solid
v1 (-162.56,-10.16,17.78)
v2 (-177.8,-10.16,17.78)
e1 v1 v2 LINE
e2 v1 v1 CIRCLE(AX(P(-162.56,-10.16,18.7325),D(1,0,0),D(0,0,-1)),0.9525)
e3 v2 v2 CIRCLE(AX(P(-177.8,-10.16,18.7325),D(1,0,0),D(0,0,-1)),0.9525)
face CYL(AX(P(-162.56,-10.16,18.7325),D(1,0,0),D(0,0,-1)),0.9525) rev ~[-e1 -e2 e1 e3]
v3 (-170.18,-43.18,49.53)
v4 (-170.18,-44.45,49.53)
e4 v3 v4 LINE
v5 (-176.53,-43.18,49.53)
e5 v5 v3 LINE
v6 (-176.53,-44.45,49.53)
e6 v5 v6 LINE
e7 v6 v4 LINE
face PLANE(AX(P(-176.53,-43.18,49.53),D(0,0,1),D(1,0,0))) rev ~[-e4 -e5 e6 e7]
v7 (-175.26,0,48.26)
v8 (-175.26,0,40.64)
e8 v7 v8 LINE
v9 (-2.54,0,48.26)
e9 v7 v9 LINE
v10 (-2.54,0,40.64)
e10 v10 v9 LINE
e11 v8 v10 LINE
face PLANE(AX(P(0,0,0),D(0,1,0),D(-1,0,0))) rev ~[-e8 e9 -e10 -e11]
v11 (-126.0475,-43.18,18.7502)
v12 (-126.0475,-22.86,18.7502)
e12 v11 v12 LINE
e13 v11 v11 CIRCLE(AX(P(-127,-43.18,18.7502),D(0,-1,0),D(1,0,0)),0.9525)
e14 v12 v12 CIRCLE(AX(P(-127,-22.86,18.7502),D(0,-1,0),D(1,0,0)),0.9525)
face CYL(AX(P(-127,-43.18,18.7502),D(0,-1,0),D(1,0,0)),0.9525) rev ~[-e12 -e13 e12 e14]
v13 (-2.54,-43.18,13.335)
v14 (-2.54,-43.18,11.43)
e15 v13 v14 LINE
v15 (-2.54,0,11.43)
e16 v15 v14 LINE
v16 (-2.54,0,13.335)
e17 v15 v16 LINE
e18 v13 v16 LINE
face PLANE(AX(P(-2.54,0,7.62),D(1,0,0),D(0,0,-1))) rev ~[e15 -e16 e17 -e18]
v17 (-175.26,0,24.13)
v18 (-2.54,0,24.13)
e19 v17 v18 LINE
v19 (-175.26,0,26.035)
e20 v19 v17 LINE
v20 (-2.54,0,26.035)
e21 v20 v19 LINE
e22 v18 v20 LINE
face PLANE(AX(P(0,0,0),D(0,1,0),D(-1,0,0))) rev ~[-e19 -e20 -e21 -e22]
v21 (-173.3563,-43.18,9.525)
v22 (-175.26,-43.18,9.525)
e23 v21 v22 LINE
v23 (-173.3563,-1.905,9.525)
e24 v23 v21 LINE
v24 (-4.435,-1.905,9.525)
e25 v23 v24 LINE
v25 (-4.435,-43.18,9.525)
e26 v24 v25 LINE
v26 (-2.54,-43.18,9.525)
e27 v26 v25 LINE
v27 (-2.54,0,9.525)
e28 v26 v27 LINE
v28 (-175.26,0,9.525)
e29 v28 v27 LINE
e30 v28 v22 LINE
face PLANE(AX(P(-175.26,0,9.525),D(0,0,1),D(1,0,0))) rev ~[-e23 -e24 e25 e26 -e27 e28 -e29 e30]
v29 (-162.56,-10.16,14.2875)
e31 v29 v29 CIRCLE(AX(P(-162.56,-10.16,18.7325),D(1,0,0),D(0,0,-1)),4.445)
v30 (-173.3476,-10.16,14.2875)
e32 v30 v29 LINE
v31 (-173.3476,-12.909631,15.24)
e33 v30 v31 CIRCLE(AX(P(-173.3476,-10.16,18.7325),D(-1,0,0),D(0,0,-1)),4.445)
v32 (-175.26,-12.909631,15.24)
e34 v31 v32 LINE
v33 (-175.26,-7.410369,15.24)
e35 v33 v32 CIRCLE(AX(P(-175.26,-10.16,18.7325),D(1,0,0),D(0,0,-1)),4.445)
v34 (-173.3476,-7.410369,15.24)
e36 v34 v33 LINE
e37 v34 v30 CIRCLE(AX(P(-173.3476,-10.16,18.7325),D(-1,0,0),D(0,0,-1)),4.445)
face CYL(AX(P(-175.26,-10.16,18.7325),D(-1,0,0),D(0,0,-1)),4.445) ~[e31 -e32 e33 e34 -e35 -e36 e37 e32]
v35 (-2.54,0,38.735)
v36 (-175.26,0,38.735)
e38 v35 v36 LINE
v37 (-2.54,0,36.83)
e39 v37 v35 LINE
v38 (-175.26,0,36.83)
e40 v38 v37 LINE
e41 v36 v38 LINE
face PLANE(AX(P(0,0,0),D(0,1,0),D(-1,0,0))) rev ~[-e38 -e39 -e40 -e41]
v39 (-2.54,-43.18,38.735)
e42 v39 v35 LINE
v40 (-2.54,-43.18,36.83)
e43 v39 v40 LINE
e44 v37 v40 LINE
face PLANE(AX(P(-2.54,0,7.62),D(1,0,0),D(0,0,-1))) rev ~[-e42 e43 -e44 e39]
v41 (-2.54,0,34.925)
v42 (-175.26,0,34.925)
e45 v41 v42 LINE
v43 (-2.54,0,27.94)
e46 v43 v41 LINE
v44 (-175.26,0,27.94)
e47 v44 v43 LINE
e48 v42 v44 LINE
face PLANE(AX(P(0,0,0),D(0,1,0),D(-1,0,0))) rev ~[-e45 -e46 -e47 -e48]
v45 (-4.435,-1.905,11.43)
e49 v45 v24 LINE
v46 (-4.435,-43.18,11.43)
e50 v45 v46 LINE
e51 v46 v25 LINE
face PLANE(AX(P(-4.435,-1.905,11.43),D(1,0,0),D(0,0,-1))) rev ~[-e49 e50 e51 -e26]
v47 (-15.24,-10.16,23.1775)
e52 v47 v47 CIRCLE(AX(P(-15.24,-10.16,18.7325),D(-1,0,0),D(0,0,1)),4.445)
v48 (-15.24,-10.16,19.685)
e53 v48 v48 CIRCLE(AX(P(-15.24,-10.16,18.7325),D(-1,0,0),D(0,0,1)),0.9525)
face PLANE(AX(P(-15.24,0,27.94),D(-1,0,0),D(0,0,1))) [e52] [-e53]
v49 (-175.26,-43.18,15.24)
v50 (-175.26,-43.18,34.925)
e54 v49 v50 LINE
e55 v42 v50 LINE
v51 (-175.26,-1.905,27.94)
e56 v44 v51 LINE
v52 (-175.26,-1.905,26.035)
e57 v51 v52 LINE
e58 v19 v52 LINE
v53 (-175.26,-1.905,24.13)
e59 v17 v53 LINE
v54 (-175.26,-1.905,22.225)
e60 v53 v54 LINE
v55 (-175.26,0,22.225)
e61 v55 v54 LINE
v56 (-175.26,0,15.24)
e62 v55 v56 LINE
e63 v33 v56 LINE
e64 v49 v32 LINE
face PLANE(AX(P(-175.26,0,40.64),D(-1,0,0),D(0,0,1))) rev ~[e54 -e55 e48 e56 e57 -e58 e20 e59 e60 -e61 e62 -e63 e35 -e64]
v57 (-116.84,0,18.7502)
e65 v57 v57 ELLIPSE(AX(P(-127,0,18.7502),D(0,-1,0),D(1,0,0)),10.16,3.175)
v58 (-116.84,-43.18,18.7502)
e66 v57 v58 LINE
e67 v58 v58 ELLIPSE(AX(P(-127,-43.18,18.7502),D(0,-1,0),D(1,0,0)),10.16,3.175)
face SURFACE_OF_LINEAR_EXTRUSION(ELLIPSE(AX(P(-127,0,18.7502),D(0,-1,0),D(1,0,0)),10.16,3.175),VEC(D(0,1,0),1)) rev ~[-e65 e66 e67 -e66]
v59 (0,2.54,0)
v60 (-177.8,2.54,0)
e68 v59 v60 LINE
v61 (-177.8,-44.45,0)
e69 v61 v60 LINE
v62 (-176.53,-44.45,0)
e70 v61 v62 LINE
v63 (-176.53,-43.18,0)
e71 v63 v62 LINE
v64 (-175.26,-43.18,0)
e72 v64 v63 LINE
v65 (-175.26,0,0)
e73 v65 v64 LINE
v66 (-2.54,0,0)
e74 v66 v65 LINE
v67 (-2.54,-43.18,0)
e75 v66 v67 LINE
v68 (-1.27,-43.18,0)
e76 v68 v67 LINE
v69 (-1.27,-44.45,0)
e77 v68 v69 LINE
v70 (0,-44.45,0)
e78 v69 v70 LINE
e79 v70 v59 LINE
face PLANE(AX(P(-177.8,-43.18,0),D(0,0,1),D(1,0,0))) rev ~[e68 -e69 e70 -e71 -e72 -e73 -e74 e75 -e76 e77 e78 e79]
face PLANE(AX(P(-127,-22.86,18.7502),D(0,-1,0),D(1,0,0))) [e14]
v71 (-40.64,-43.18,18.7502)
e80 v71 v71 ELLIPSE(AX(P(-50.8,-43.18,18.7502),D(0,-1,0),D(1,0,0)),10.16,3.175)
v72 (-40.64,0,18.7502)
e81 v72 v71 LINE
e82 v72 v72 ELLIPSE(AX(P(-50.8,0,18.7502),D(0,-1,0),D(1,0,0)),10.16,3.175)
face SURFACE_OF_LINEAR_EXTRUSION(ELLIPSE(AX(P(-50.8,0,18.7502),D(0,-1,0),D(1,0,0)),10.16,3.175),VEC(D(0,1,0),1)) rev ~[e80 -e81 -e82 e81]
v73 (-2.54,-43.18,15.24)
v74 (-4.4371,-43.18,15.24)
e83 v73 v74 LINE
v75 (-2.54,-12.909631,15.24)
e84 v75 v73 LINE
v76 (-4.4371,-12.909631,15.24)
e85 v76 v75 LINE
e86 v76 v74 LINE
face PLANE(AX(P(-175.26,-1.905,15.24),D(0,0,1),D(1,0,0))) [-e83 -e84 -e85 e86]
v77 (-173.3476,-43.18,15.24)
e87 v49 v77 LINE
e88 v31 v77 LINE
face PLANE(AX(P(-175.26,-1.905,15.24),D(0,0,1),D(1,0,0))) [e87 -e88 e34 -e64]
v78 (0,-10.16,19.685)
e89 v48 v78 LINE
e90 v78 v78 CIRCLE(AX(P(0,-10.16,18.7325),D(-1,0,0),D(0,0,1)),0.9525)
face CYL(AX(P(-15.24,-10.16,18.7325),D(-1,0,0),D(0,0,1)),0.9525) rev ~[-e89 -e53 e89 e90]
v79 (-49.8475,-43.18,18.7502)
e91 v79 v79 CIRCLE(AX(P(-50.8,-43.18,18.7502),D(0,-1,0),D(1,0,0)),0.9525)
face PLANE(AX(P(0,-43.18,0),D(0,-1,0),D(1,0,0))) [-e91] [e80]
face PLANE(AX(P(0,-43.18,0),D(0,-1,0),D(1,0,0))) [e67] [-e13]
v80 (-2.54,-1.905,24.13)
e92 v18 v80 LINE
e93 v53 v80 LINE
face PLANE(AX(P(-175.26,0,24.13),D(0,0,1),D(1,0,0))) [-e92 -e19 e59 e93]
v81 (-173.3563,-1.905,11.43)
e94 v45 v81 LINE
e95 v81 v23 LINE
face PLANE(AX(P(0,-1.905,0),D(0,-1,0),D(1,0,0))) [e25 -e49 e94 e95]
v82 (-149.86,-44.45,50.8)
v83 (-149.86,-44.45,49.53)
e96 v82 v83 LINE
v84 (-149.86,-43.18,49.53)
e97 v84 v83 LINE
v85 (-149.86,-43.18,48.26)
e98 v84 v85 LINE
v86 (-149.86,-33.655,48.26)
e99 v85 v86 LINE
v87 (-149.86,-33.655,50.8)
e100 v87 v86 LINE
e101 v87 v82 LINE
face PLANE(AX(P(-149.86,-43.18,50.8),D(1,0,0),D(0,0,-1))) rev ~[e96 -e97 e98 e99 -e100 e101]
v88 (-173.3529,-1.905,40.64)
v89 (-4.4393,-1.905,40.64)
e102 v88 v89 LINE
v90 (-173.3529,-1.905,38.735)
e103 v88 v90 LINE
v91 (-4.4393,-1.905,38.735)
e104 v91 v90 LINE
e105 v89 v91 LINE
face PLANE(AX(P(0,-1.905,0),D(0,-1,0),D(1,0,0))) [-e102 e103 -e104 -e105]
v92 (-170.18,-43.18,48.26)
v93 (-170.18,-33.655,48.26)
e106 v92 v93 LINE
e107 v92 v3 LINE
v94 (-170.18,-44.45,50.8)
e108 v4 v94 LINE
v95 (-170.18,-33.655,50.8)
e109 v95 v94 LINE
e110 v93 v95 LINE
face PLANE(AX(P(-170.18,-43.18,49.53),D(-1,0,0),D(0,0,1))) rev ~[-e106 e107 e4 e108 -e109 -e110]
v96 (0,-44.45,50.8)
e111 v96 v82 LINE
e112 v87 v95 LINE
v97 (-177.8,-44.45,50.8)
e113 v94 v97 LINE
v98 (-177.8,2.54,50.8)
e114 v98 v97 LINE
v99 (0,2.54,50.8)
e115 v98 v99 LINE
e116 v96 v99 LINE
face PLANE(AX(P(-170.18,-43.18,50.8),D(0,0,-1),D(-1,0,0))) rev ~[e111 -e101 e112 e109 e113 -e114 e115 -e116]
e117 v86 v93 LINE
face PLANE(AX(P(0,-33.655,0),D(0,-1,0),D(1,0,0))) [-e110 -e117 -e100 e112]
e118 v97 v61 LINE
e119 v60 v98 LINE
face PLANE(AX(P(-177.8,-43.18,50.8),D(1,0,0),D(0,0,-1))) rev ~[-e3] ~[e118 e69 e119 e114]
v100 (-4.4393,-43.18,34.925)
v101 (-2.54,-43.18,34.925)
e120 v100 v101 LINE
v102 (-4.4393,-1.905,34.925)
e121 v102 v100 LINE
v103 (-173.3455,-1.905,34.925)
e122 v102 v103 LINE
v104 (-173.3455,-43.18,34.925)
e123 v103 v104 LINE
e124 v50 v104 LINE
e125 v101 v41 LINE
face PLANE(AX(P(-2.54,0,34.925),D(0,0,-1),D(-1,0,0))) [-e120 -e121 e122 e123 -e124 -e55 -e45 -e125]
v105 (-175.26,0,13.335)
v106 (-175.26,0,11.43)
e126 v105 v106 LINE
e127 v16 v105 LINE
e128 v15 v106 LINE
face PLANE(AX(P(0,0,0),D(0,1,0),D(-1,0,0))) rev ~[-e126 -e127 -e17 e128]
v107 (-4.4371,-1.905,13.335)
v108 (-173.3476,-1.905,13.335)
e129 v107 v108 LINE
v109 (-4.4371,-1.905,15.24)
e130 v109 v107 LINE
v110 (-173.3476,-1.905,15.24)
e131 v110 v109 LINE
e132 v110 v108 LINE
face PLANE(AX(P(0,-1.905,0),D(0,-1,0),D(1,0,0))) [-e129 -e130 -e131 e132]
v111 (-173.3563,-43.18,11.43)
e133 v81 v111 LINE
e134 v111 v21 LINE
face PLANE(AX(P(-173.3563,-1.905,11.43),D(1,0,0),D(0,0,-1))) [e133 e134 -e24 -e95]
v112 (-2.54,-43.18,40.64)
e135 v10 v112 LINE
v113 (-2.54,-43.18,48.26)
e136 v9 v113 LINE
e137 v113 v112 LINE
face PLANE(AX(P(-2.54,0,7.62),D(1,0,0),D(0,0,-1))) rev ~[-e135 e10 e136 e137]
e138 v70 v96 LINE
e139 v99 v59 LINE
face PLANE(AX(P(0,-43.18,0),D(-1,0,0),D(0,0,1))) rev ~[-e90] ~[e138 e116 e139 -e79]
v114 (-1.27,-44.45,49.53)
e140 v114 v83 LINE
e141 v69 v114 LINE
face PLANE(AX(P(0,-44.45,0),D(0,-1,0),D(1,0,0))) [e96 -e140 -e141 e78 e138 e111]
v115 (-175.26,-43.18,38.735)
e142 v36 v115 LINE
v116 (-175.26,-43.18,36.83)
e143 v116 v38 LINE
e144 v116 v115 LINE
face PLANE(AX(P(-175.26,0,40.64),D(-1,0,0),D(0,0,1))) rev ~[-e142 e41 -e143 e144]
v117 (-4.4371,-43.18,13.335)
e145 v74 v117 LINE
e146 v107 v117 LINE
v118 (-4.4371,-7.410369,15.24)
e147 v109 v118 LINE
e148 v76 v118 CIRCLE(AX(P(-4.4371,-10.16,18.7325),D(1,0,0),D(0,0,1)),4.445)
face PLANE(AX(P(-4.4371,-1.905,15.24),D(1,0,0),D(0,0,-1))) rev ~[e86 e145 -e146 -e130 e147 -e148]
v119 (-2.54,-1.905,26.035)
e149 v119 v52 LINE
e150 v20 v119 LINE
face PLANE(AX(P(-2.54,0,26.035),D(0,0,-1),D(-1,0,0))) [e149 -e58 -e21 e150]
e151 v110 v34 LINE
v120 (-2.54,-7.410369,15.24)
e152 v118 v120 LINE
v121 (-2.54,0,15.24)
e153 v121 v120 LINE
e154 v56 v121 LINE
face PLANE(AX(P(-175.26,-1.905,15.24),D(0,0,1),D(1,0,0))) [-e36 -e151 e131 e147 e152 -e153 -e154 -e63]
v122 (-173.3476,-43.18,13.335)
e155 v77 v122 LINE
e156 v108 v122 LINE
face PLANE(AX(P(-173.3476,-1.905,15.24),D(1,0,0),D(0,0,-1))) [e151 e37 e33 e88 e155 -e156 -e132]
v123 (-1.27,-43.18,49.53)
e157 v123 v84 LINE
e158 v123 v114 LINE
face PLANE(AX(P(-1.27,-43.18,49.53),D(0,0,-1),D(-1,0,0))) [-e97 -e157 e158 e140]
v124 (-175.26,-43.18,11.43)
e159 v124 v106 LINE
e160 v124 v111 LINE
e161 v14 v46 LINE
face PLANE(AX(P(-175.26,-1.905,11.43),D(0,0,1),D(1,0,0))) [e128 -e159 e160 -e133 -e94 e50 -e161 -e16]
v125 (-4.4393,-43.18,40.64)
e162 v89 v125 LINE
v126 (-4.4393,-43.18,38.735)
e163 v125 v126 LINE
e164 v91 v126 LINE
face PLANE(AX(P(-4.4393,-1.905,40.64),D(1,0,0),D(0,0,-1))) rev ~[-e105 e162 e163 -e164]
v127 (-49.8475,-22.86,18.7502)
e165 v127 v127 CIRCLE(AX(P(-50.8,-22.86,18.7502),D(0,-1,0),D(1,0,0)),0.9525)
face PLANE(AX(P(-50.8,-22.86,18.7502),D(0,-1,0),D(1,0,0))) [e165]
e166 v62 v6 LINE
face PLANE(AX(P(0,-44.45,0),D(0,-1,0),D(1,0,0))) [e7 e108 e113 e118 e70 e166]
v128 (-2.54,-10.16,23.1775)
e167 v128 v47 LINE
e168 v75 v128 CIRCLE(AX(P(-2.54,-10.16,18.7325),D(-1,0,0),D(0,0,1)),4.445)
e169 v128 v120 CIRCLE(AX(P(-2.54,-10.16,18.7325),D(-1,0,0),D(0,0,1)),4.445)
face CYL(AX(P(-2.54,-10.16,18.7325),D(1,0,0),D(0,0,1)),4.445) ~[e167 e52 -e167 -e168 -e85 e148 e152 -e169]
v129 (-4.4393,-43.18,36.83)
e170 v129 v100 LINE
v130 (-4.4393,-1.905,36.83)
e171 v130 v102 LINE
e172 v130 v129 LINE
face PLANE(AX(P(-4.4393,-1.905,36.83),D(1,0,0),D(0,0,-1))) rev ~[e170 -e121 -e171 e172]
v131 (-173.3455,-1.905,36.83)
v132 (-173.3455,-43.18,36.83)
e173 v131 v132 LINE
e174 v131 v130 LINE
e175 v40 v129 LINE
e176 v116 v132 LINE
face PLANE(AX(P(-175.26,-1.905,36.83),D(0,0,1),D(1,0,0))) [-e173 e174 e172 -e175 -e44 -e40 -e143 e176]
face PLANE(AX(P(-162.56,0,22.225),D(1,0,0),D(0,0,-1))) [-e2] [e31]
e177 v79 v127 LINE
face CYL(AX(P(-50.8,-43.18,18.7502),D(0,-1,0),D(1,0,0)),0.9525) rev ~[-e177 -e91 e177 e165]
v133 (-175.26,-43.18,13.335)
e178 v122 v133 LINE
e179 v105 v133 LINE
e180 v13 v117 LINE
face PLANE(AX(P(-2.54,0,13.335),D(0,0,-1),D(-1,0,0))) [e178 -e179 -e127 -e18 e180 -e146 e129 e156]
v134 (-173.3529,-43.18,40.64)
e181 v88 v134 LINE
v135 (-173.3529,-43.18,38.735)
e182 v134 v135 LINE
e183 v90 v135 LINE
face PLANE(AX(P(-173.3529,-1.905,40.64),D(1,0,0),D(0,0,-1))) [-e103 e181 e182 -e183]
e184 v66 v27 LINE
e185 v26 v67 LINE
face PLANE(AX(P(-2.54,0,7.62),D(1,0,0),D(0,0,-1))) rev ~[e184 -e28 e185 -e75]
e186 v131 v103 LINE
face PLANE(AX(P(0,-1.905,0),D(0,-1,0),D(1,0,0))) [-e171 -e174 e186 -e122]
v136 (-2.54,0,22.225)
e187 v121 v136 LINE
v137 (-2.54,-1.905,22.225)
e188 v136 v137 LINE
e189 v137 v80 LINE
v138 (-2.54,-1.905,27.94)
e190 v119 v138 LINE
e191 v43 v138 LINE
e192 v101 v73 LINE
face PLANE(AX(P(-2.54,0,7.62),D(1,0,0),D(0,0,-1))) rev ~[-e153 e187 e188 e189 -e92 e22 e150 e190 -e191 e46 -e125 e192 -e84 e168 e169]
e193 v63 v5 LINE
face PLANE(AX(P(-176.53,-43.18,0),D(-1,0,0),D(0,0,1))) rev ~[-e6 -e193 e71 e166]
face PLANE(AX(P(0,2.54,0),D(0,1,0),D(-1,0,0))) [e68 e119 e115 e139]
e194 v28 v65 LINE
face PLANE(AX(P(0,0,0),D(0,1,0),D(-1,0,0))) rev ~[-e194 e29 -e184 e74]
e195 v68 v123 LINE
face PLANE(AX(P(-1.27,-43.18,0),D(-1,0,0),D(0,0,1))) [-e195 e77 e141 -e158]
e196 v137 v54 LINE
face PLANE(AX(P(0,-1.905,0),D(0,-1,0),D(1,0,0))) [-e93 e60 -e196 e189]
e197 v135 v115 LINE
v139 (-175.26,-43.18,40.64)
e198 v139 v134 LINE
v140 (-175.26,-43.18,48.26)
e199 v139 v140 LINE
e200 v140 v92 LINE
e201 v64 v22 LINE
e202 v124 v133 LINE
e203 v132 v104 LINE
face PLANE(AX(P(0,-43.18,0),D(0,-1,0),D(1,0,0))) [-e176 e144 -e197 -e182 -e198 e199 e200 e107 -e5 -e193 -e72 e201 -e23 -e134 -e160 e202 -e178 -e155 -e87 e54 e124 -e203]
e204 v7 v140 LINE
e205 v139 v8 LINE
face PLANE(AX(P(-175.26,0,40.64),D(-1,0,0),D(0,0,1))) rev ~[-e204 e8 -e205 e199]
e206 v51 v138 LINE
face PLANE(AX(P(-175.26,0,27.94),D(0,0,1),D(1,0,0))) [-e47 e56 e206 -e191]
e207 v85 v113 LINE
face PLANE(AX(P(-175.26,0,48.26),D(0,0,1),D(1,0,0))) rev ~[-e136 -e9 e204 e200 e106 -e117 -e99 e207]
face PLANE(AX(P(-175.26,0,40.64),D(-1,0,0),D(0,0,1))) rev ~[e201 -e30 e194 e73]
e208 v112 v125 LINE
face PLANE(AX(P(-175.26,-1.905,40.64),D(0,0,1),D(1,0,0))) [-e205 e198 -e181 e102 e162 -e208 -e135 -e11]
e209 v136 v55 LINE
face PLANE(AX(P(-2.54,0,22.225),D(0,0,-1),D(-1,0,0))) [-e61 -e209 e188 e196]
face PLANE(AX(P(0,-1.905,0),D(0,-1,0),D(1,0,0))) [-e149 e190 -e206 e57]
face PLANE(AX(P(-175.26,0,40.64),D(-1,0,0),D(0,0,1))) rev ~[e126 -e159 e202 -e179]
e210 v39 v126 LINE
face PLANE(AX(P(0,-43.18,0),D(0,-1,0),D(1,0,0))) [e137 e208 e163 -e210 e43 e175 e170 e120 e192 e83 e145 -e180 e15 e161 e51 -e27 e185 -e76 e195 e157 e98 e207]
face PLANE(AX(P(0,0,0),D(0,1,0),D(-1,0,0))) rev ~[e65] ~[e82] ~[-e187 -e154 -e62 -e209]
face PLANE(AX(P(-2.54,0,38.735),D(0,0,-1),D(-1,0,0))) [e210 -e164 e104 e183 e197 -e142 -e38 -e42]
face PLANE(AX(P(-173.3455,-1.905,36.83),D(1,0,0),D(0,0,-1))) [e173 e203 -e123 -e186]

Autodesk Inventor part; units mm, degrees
ref_plane "YZ Plane" through (0, 0, 0) normal (1, 0, 0) x (0, 1, 0)
ref_plane "XZ Plane" through (0, 0, 0) normal (0, 1, 0) x (-1, 0, 0)
ref_plane "XY Plane" through (0, 0, 0) normal (0, 0, 1) x (1, 0, 0)
sketch "Náčrt12" plane through (0, 0, 0) normal (0, 1, 0) x (-1, 0, 0)
  line L0 (0, 0) -> (177.8, 0)
  line L1 (177.8, 0) -> (177.8, 50.8)
  line L2 (177.8, 50.8) -> (0, 50.8)
  line L3 (0, 50.8) -> (0, 0)
  dimension "d34" = 50.8
  dimension "d35" = 177.8
extrude "Vysunutí10" add sketch "Náčrt12" along normal blind 2.54
sketch "Náčrt13" plane through (0, 0, 0) normal (0, -1, 0) x (1, 0, 0)
  line L0 (0, 50.8) -> (0, 0) projected
  line L1 (-177.8, 50.8) -> (0, 50.8) projected
  line L2 (-177.8, 0) -> (-177.8, 50.8) projected
  line L3 (0, 0) -> (-177.8, 0) projected
  line L4 (-175.26, 0) -> (-175.26, 48.26)
  line L5 (-175.26, 48.26) -> (-2.54, 48.26)
  line L6 (-2.54, 48.26) -> (-2.54, 0)
  line L7 (-175.26, 10.16) -> (-2.54, 10.16)
  line L8 (-2.54, 10.16) -> (-2.54, 7.62)
  line L9 (-2.54, 7.62) -> (-175.26, 7.62)
  line L10 (-175.26, 7.62) -> (-175.26, 10.16)
  line L11 (-175.26, 22.86) -> (-2.54, 22.86)
  line L12 (-2.54, 22.86) -> (-2.54, 20.32)
  line L13 (-2.54, 20.32) -> (-175.26, 20.32)
  line L14 (-175.26, 20.32) -> (-175.26, 22.86)
  line L15 (-175.26, 35.56) -> (-2.54, 35.56)
  line L16 (-2.54, 35.56) -> (-2.54, 33.02)
  line L17 (-2.54, 33.02) -> (-175.26, 33.02)
  line L18 (-175.26, 33.02) -> (-175.26, 35.56)
  line L19 (-175.26, 40.64) -> (-2.54, 40.64)
  line L20 (-2.54, 40.64) -> (-2.54, 38.1)
  line L21 (-2.54, 38.1) -> (-175.26, 38.1)
  line L22 (-175.26, 38.1) -> (-175.26, 40.64)
  line L23 (-175.26, 15.24) -> (-2.54, 15.24)
  line L24 (-2.54, 15.24) -> (-2.54, 12.7)
  line L25 (-2.54, 12.7) -> (-175.26, 12.7)
  line L26 (-175.26, 12.7) -> (-175.26, 15.24)
  line L27 (-175.26, 27.94) -> (-2.54, 27.94)
  line L28 (-2.54, 27.94) -> (-2.54, 25.4)
  line L29 (-2.54, 25.4) -> (-175.26, 25.4)
  line L30 (-175.26, 25.4) -> (-175.26, 27.94)
  dimension "d73" = 2.54
extrude "Vysunutí11" add sketch "Náčrt13" along normal blind 43.18 contours L0 L3 L6 L5 L4 L2 L1
sketch "Náčrt14" plane through (0, 0, 0) normal (0, -1, 0) x (1, 0, 0)
  line L0 (-2.54, 0) -> (-2.54, 48.26) projected
  line L1 (-175.26, 48.26) -> (-175.26, 0) projected
  line L2 (-2.54, 0) -> (-175.26, 0) projected
  line L3 (-175.26, 9.525) -> (-2.54, 9.525)
  line L4 (-2.54, 9.525) -> (-2.54, 11.43)
  line L5 (-2.54, 11.43) -> (-175.26, 11.43)
  line L6 (-175.26, 11.43) -> (-175.26, 9.525)
  line L7 (-175.26, 15.24) -> (-2.54, 15.24)
  line L8 (-2.54, 15.24) -> (-2.54, 13.335)
  line L9 (-2.54, 13.335) -> (-175.26, 13.335)
  line L10 (-175.26, 13.335) -> (-175.26, 15.24)
  line L11 (-175.26, 24.13) -> (-2.54, 24.13)
  line L12 (-2.54, 24.13) -> (-2.54, 22.225)
  line L13 (-2.54, 22.225) -> (-175.26, 22.225)
  line L14 (-175.26, 22.225) -> (-175.26, 24.13)
  line L15 (-175.26, 27.94) -> (-2.54, 27.94)
  line L16 (-2.54, 27.94) -> (-2.54, 26.035)
  line L17 (-2.54, 26.035) -> (-175.26, 26.035)
  line L18 (-175.26, 26.035) -> (-175.26, 27.94)
  line L19 (-175.26, 40.64) -> (-2.54, 40.64)
  line L20 (-2.54, 40.64) -> (-2.54, 38.735)
  line L21 (-2.54, 38.735) -> (-175.26, 38.735)
  line L22 (-175.26, 38.735) -> (-175.26, 40.64)
  line L23 (-175.26, 36.83) -> (-2.54, 36.83)
  line L24 (-2.54, 36.83) -> (-2.54, 34.925)
  line L25 (-2.54, 34.925) -> (-175.26, 34.925)
  line L26 (-175.26, 34.925) -> (-175.26, 36.83)
  point P0 (0, 0)
  dimension "d59" = 11.43
  dimension "d60" = 1.905
  dimension "d61" = 1.905
  dimension "d62" = 1.905
  dimension "d63" = 1.905
  dimension "d64" = 1.905
  dimension "d65" = 1.905
  dimension "d66" = 1.905
  dimension "d67" = 10.795
  dimension "d68" = 1.905
  dimension "d69" = 10.795
  dimension "d70" = 1.905
extrude "Vysunutí12" add sketch "Náčrt14" along normal blind 1.905 contours L3 L1 L5 L0 | L9 L1 L7 L0 | L13 L1 L11 L0 | L17 L1 L15 L0 | L25 L1 L23 L0 | L21 L1 L19 L0
sketch "Náčrt16" plane through (0, -1.905, 0) normal (0, -1, 0) x (1, 0, 0)
  line L0 (-2.54, 9.525) -> (-175.26, 9.525) projected
  line L1 (-175.26, 11.43) -> (-173.3563, 11.43)
  line L2 (-173.3563, 11.43) -> (-173.3563, 9.525)
  line L3 (-173.3563, 9.525) -> (-175.26, 9.525)
  line L4 (-175.26, 9.525) -> (-175.26, 11.43)
  line L5 (-2.54, 11.43) -> (-4.435, 11.43)
  line L6 (-4.435, 11.43) -> (-4.435, 9.525)
  line L7 (-4.435, 9.525) -> (-2.54, 9.525)
  line L8 (-2.54, 9.525) -> (-2.54, 11.43)
  point P0 (0, 0)
extrude "Vysunutí13" add sketch "Náčrt16" along normal up to surface (41.275 mm away)
sketch "Náčrt17" plane through (0, -1.905, 0) normal (0, -1, 0) x (1, 0, 0)
  line L0 (-2.54, 13.335) -> (-175.26, 13.335) projected
  line L1 (-175.26, 15.24) -> (-173.3476, 15.24)
  line L2 (-173.3476, 15.24) -> (-173.3476, 13.335)
  line L3 (-173.3476, 13.335) -> (-175.26, 13.335)
  line L4 (-175.26, 13.335) -> (-175.26, 15.24)
  line L5 (-2.54, 15.24) -> (-4.4371, 15.24)
  line L6 (-4.4371, 15.24) -> (-4.4371, 13.335)
  line L7 (-4.4371, 13.335) -> (-2.54, 13.335)
  line L8 (-2.54, 13.335) -> (-2.54, 15.24)
  point P0 (0, 0)
extrude "Vysunutí14" add sketch "Náčrt17" along normal up to surface (41.275 mm away)
sketch "Náčrt18" plane through (0, -1.905, 0) normal (0, -1, 0) x (1, 0, 0)
  line L0 (-175.26, 34.925) -> (-175.26, 36.83) projected
  line L1 (-175.26, 34.925) -> (-2.54, 34.925) projected
  line L2 (-175.26, 36.83) -> (-173.3455, 36.83)
  line L3 (-173.3455, 36.83) -> (-173.3455, 34.925)
  line L4 (-173.3455, 34.925) -> (-175.26, 34.925)
  line L5 (-175.26, 34.925) -> (-175.26, 36.83)
  line L6 (-2.54, 36.83) -> (-4.4393, 36.83)
  line L7 (-4.4393, 36.83) -> (-4.4393, 34.925)
  line L8 (-4.4393, 34.925) -> (-2.54, 34.925)
  line L9 (-2.54, 34.925) -> (-2.54, 36.83)
  point P0 (0, 0)
extrude "Vysunutí15" add sketch "Náčrt18" along normal up to surface (41.275 mm away)
sketch "Náčrt19" plane through (0, -1.905, 0) normal (0, -1, 0) x (1, 0, 0)
  line L0 (-175.26, 38.735) -> (-175.26, 40.64) projected
  line L1 (-2.54, 38.735) -> (-175.26, 38.735) projected
  line L2 (-175.26, 40.64) -> (-173.3529, 40.64)
  line L3 (-173.3529, 40.64) -> (-173.3529, 38.735)
  line L4 (-173.3529, 38.735) -> (-175.26, 38.735)
  line L5 (-175.26, 38.735) -> (-175.26, 40.64)
  line L6 (-2.54, 40.64) -> (-4.4393, 40.64)
  line L7 (-4.4393, 40.64) -> (-4.4393, 38.735)
  line L8 (-4.4393, 38.735) -> (-2.54, 38.735)
  line L9 (-2.54, 38.735) -> (-2.54, 40.64)
  point P0 (0, 0)
extrude "Vysunutí16" add sketch "Náčrt19" along normal up to surface (41.275 mm away)
sketch "Náčrt20" plane through (0, -43.18, 0) normal (0, -1, 0) x (1, 0, 0)
  line L0 (-175.26, 40.64) -> (-175.26, 48.26) projected
  line L1 (0, 50.8) -> (-177.8, 50.8) projected
  line L2 (-170.18, 50.8) -> (-149.86, 50.8)
  line L3 (-149.86, 50.8) -> (-149.86, 48.26)
  line L4 (-149.86, 48.26) -> (-170.18, 48.26)
  line L5 (-170.18, 48.26) -> (-170.18, 50.8)
  dimension "d83" = 20.32
  dimension "d84" = 25.4
extrude "Vysunutí17" cut sketch "Náčrt20" against normal blind 9.525
sketch "Náčrt21" plane through (0, 0, 0) normal (0, -1, 0) x (1, 0, 0)
  line L0 (-175.26, 15.24) -> (-2.54, 15.24) projected
  line L1 (-2.54, 13.335) -> (-175.26, 13.335) projected
  line L2 (-2.54, 24.13) -> (-175.26, 24.13) projected
  ellipse E0 centre (-127, 18.7502) end of major axis (-116.84, 18.7502) minor radius 3.175
  ellipse E1 centre (-50.8, 18.7502) end of major axis (-40.64, 18.7502) minor radius 3.175
  line L3 (-2.54, 0) -> (-175.26, 0) projected
  line L4 (-175.26, 22.225) -> (-175.26, 15.24) projected
  point P0 (0, 0)
  dimension "d92" = 10.16
  dimension "d93" = 10.16
  dimension "d122" = 3.175
  dimension "d120" = 18.7502
  dimension "d121" = 48.26
  dimension "d123" = 76.2
extrude "Vysunutí18" add sketch "Náčrt21" along normal up to surface (43.18 mm away)
sketch "Náčrt22" plane through (-127, -43.18, 18.7502) normal (0, -1, 0) x (1, 0, 0)
  ellipse E0 centre (0, 0) end of major axis (-10.16, 0) minor radius 3.175 projected
  circle A0 centre (0, 0) radius 0.9525
  point P0 (127, -18.7502)
  dimension "d96" = 1.905
extrude "Vysunutí19" cut sketch "Náčrt22" against normal blind 20.32 contours A0
sketch "Náčrt23" plane through (-50.8, -43.18, 18.7502) normal (0, -1, 0) x (1, 0, 0)
  ellipse E0 centre (0, 0) end of major axis (-10.16, 0) minor radius 3.175 projected
  circle A0 centre (0, 0) radius 0.9525
  point P0 (50.8, -18.7502)
  dimension "d99" = 1.905
extrude "Vysunutí20" cut sketch "Náčrt23" against normal blind 20.32 contours A0
sketch "Náčrt24" plane through (0, -43.18, 0) normal (0, -1, 0) x (1, 0, 0)
  line L0 (-149.86, 50.8) -> (-149.86, 48.26) projected
  line L1 (-2.54, 48.26) -> (-2.54, 40.64) projected
  line L2 (-2.54, 0) -> (0, 0) projected
  line L3 (0, 0) -> (0, 50.8) projected
  line L4 (0, 50.8) -> (-149.86, 50.8) projected
  line L5 (-1.27, 0) -> (-1.27, 49.53)
  line L6 (-1.27, 49.53) -> (-149.86, 49.53)
extrude "Vysunutí21" add sketch "Náčrt24" along normal blind 1.27
sketch "Náčrt25" plane through (0, -43.18, 0) normal (0, -1, 0) x (1, 0, 0)
  line L0 (-170.18, 48.26) -> (-170.18, 50.8) projected
  line L1 (-170.18, 50.8) -> (-177.8, 50.8) projected
  line L2 (-177.8, 50.8) -> (-177.8, 0) projected
  line L3 (-177.8, 0) -> (-175.26, 0) projected
  line L4 (-175.26, 48.26) -> (-170.18, 48.26) projected
  line L5 (-176.53, 0) -> (-176.53, 49.53)
  line L6 (-176.53, 49.53) -> (-170.18, 49.53)
  point P0 (0, 0)
extrude "Vysunutí22" add sketch "Náčrt25" along normal blind 1.27
sketch "Náčrt27" plane through (-2.54, 0, 27.94) normal (-1, 0, 0) x (0, 0, 1)
  circle A0 centre (-9.2075, -10.16) radius 4.445
  point P0 (-27.94, 0)
  dimension "d110" = 8.89
extrude "Vysunutí23" add sketch "Náčrt27" along normal blind 12.7
sketch "Náčrt28" plane through (-15.24, -10.16, 18.7325) normal (-1, 0, 0) x (0, 0, 1)
  circle A0 centre (0, 0) radius 4.445 projected
  circle A1 centre (0, 0) radius 0.9525
  point P0 (-18.7325, 10.16)
  dimension "d113" = 1.905
extrude "Vysunutí24" cut sketch "Náčrt28" against normal through all contours A1
sketch "Náčrt30" plane through (-175.26, 0, 22.225) normal (1, 0, 0) x (0, 0, -1)
  circle A0 centre (3.4925, -10.16) radius 4.445 projected
  point P0 (22.225, 0)
extrude "Vysunutí25" add sketch "Náčrt30" along normal blind 12.7
sketch "Náčrt31" plane through (-162.56, -10.16, 18.7325) normal (1, 0, 0) x (0, 0, -1)
  circle A0 centre (0, 0) radius 0.9525 projected
  point P0 (18.7325, 10.16)
extrude "Vysunutí26" cut sketch "Náčrt31" against normal through all
properties part number "Krabicka_dolna_cast"
